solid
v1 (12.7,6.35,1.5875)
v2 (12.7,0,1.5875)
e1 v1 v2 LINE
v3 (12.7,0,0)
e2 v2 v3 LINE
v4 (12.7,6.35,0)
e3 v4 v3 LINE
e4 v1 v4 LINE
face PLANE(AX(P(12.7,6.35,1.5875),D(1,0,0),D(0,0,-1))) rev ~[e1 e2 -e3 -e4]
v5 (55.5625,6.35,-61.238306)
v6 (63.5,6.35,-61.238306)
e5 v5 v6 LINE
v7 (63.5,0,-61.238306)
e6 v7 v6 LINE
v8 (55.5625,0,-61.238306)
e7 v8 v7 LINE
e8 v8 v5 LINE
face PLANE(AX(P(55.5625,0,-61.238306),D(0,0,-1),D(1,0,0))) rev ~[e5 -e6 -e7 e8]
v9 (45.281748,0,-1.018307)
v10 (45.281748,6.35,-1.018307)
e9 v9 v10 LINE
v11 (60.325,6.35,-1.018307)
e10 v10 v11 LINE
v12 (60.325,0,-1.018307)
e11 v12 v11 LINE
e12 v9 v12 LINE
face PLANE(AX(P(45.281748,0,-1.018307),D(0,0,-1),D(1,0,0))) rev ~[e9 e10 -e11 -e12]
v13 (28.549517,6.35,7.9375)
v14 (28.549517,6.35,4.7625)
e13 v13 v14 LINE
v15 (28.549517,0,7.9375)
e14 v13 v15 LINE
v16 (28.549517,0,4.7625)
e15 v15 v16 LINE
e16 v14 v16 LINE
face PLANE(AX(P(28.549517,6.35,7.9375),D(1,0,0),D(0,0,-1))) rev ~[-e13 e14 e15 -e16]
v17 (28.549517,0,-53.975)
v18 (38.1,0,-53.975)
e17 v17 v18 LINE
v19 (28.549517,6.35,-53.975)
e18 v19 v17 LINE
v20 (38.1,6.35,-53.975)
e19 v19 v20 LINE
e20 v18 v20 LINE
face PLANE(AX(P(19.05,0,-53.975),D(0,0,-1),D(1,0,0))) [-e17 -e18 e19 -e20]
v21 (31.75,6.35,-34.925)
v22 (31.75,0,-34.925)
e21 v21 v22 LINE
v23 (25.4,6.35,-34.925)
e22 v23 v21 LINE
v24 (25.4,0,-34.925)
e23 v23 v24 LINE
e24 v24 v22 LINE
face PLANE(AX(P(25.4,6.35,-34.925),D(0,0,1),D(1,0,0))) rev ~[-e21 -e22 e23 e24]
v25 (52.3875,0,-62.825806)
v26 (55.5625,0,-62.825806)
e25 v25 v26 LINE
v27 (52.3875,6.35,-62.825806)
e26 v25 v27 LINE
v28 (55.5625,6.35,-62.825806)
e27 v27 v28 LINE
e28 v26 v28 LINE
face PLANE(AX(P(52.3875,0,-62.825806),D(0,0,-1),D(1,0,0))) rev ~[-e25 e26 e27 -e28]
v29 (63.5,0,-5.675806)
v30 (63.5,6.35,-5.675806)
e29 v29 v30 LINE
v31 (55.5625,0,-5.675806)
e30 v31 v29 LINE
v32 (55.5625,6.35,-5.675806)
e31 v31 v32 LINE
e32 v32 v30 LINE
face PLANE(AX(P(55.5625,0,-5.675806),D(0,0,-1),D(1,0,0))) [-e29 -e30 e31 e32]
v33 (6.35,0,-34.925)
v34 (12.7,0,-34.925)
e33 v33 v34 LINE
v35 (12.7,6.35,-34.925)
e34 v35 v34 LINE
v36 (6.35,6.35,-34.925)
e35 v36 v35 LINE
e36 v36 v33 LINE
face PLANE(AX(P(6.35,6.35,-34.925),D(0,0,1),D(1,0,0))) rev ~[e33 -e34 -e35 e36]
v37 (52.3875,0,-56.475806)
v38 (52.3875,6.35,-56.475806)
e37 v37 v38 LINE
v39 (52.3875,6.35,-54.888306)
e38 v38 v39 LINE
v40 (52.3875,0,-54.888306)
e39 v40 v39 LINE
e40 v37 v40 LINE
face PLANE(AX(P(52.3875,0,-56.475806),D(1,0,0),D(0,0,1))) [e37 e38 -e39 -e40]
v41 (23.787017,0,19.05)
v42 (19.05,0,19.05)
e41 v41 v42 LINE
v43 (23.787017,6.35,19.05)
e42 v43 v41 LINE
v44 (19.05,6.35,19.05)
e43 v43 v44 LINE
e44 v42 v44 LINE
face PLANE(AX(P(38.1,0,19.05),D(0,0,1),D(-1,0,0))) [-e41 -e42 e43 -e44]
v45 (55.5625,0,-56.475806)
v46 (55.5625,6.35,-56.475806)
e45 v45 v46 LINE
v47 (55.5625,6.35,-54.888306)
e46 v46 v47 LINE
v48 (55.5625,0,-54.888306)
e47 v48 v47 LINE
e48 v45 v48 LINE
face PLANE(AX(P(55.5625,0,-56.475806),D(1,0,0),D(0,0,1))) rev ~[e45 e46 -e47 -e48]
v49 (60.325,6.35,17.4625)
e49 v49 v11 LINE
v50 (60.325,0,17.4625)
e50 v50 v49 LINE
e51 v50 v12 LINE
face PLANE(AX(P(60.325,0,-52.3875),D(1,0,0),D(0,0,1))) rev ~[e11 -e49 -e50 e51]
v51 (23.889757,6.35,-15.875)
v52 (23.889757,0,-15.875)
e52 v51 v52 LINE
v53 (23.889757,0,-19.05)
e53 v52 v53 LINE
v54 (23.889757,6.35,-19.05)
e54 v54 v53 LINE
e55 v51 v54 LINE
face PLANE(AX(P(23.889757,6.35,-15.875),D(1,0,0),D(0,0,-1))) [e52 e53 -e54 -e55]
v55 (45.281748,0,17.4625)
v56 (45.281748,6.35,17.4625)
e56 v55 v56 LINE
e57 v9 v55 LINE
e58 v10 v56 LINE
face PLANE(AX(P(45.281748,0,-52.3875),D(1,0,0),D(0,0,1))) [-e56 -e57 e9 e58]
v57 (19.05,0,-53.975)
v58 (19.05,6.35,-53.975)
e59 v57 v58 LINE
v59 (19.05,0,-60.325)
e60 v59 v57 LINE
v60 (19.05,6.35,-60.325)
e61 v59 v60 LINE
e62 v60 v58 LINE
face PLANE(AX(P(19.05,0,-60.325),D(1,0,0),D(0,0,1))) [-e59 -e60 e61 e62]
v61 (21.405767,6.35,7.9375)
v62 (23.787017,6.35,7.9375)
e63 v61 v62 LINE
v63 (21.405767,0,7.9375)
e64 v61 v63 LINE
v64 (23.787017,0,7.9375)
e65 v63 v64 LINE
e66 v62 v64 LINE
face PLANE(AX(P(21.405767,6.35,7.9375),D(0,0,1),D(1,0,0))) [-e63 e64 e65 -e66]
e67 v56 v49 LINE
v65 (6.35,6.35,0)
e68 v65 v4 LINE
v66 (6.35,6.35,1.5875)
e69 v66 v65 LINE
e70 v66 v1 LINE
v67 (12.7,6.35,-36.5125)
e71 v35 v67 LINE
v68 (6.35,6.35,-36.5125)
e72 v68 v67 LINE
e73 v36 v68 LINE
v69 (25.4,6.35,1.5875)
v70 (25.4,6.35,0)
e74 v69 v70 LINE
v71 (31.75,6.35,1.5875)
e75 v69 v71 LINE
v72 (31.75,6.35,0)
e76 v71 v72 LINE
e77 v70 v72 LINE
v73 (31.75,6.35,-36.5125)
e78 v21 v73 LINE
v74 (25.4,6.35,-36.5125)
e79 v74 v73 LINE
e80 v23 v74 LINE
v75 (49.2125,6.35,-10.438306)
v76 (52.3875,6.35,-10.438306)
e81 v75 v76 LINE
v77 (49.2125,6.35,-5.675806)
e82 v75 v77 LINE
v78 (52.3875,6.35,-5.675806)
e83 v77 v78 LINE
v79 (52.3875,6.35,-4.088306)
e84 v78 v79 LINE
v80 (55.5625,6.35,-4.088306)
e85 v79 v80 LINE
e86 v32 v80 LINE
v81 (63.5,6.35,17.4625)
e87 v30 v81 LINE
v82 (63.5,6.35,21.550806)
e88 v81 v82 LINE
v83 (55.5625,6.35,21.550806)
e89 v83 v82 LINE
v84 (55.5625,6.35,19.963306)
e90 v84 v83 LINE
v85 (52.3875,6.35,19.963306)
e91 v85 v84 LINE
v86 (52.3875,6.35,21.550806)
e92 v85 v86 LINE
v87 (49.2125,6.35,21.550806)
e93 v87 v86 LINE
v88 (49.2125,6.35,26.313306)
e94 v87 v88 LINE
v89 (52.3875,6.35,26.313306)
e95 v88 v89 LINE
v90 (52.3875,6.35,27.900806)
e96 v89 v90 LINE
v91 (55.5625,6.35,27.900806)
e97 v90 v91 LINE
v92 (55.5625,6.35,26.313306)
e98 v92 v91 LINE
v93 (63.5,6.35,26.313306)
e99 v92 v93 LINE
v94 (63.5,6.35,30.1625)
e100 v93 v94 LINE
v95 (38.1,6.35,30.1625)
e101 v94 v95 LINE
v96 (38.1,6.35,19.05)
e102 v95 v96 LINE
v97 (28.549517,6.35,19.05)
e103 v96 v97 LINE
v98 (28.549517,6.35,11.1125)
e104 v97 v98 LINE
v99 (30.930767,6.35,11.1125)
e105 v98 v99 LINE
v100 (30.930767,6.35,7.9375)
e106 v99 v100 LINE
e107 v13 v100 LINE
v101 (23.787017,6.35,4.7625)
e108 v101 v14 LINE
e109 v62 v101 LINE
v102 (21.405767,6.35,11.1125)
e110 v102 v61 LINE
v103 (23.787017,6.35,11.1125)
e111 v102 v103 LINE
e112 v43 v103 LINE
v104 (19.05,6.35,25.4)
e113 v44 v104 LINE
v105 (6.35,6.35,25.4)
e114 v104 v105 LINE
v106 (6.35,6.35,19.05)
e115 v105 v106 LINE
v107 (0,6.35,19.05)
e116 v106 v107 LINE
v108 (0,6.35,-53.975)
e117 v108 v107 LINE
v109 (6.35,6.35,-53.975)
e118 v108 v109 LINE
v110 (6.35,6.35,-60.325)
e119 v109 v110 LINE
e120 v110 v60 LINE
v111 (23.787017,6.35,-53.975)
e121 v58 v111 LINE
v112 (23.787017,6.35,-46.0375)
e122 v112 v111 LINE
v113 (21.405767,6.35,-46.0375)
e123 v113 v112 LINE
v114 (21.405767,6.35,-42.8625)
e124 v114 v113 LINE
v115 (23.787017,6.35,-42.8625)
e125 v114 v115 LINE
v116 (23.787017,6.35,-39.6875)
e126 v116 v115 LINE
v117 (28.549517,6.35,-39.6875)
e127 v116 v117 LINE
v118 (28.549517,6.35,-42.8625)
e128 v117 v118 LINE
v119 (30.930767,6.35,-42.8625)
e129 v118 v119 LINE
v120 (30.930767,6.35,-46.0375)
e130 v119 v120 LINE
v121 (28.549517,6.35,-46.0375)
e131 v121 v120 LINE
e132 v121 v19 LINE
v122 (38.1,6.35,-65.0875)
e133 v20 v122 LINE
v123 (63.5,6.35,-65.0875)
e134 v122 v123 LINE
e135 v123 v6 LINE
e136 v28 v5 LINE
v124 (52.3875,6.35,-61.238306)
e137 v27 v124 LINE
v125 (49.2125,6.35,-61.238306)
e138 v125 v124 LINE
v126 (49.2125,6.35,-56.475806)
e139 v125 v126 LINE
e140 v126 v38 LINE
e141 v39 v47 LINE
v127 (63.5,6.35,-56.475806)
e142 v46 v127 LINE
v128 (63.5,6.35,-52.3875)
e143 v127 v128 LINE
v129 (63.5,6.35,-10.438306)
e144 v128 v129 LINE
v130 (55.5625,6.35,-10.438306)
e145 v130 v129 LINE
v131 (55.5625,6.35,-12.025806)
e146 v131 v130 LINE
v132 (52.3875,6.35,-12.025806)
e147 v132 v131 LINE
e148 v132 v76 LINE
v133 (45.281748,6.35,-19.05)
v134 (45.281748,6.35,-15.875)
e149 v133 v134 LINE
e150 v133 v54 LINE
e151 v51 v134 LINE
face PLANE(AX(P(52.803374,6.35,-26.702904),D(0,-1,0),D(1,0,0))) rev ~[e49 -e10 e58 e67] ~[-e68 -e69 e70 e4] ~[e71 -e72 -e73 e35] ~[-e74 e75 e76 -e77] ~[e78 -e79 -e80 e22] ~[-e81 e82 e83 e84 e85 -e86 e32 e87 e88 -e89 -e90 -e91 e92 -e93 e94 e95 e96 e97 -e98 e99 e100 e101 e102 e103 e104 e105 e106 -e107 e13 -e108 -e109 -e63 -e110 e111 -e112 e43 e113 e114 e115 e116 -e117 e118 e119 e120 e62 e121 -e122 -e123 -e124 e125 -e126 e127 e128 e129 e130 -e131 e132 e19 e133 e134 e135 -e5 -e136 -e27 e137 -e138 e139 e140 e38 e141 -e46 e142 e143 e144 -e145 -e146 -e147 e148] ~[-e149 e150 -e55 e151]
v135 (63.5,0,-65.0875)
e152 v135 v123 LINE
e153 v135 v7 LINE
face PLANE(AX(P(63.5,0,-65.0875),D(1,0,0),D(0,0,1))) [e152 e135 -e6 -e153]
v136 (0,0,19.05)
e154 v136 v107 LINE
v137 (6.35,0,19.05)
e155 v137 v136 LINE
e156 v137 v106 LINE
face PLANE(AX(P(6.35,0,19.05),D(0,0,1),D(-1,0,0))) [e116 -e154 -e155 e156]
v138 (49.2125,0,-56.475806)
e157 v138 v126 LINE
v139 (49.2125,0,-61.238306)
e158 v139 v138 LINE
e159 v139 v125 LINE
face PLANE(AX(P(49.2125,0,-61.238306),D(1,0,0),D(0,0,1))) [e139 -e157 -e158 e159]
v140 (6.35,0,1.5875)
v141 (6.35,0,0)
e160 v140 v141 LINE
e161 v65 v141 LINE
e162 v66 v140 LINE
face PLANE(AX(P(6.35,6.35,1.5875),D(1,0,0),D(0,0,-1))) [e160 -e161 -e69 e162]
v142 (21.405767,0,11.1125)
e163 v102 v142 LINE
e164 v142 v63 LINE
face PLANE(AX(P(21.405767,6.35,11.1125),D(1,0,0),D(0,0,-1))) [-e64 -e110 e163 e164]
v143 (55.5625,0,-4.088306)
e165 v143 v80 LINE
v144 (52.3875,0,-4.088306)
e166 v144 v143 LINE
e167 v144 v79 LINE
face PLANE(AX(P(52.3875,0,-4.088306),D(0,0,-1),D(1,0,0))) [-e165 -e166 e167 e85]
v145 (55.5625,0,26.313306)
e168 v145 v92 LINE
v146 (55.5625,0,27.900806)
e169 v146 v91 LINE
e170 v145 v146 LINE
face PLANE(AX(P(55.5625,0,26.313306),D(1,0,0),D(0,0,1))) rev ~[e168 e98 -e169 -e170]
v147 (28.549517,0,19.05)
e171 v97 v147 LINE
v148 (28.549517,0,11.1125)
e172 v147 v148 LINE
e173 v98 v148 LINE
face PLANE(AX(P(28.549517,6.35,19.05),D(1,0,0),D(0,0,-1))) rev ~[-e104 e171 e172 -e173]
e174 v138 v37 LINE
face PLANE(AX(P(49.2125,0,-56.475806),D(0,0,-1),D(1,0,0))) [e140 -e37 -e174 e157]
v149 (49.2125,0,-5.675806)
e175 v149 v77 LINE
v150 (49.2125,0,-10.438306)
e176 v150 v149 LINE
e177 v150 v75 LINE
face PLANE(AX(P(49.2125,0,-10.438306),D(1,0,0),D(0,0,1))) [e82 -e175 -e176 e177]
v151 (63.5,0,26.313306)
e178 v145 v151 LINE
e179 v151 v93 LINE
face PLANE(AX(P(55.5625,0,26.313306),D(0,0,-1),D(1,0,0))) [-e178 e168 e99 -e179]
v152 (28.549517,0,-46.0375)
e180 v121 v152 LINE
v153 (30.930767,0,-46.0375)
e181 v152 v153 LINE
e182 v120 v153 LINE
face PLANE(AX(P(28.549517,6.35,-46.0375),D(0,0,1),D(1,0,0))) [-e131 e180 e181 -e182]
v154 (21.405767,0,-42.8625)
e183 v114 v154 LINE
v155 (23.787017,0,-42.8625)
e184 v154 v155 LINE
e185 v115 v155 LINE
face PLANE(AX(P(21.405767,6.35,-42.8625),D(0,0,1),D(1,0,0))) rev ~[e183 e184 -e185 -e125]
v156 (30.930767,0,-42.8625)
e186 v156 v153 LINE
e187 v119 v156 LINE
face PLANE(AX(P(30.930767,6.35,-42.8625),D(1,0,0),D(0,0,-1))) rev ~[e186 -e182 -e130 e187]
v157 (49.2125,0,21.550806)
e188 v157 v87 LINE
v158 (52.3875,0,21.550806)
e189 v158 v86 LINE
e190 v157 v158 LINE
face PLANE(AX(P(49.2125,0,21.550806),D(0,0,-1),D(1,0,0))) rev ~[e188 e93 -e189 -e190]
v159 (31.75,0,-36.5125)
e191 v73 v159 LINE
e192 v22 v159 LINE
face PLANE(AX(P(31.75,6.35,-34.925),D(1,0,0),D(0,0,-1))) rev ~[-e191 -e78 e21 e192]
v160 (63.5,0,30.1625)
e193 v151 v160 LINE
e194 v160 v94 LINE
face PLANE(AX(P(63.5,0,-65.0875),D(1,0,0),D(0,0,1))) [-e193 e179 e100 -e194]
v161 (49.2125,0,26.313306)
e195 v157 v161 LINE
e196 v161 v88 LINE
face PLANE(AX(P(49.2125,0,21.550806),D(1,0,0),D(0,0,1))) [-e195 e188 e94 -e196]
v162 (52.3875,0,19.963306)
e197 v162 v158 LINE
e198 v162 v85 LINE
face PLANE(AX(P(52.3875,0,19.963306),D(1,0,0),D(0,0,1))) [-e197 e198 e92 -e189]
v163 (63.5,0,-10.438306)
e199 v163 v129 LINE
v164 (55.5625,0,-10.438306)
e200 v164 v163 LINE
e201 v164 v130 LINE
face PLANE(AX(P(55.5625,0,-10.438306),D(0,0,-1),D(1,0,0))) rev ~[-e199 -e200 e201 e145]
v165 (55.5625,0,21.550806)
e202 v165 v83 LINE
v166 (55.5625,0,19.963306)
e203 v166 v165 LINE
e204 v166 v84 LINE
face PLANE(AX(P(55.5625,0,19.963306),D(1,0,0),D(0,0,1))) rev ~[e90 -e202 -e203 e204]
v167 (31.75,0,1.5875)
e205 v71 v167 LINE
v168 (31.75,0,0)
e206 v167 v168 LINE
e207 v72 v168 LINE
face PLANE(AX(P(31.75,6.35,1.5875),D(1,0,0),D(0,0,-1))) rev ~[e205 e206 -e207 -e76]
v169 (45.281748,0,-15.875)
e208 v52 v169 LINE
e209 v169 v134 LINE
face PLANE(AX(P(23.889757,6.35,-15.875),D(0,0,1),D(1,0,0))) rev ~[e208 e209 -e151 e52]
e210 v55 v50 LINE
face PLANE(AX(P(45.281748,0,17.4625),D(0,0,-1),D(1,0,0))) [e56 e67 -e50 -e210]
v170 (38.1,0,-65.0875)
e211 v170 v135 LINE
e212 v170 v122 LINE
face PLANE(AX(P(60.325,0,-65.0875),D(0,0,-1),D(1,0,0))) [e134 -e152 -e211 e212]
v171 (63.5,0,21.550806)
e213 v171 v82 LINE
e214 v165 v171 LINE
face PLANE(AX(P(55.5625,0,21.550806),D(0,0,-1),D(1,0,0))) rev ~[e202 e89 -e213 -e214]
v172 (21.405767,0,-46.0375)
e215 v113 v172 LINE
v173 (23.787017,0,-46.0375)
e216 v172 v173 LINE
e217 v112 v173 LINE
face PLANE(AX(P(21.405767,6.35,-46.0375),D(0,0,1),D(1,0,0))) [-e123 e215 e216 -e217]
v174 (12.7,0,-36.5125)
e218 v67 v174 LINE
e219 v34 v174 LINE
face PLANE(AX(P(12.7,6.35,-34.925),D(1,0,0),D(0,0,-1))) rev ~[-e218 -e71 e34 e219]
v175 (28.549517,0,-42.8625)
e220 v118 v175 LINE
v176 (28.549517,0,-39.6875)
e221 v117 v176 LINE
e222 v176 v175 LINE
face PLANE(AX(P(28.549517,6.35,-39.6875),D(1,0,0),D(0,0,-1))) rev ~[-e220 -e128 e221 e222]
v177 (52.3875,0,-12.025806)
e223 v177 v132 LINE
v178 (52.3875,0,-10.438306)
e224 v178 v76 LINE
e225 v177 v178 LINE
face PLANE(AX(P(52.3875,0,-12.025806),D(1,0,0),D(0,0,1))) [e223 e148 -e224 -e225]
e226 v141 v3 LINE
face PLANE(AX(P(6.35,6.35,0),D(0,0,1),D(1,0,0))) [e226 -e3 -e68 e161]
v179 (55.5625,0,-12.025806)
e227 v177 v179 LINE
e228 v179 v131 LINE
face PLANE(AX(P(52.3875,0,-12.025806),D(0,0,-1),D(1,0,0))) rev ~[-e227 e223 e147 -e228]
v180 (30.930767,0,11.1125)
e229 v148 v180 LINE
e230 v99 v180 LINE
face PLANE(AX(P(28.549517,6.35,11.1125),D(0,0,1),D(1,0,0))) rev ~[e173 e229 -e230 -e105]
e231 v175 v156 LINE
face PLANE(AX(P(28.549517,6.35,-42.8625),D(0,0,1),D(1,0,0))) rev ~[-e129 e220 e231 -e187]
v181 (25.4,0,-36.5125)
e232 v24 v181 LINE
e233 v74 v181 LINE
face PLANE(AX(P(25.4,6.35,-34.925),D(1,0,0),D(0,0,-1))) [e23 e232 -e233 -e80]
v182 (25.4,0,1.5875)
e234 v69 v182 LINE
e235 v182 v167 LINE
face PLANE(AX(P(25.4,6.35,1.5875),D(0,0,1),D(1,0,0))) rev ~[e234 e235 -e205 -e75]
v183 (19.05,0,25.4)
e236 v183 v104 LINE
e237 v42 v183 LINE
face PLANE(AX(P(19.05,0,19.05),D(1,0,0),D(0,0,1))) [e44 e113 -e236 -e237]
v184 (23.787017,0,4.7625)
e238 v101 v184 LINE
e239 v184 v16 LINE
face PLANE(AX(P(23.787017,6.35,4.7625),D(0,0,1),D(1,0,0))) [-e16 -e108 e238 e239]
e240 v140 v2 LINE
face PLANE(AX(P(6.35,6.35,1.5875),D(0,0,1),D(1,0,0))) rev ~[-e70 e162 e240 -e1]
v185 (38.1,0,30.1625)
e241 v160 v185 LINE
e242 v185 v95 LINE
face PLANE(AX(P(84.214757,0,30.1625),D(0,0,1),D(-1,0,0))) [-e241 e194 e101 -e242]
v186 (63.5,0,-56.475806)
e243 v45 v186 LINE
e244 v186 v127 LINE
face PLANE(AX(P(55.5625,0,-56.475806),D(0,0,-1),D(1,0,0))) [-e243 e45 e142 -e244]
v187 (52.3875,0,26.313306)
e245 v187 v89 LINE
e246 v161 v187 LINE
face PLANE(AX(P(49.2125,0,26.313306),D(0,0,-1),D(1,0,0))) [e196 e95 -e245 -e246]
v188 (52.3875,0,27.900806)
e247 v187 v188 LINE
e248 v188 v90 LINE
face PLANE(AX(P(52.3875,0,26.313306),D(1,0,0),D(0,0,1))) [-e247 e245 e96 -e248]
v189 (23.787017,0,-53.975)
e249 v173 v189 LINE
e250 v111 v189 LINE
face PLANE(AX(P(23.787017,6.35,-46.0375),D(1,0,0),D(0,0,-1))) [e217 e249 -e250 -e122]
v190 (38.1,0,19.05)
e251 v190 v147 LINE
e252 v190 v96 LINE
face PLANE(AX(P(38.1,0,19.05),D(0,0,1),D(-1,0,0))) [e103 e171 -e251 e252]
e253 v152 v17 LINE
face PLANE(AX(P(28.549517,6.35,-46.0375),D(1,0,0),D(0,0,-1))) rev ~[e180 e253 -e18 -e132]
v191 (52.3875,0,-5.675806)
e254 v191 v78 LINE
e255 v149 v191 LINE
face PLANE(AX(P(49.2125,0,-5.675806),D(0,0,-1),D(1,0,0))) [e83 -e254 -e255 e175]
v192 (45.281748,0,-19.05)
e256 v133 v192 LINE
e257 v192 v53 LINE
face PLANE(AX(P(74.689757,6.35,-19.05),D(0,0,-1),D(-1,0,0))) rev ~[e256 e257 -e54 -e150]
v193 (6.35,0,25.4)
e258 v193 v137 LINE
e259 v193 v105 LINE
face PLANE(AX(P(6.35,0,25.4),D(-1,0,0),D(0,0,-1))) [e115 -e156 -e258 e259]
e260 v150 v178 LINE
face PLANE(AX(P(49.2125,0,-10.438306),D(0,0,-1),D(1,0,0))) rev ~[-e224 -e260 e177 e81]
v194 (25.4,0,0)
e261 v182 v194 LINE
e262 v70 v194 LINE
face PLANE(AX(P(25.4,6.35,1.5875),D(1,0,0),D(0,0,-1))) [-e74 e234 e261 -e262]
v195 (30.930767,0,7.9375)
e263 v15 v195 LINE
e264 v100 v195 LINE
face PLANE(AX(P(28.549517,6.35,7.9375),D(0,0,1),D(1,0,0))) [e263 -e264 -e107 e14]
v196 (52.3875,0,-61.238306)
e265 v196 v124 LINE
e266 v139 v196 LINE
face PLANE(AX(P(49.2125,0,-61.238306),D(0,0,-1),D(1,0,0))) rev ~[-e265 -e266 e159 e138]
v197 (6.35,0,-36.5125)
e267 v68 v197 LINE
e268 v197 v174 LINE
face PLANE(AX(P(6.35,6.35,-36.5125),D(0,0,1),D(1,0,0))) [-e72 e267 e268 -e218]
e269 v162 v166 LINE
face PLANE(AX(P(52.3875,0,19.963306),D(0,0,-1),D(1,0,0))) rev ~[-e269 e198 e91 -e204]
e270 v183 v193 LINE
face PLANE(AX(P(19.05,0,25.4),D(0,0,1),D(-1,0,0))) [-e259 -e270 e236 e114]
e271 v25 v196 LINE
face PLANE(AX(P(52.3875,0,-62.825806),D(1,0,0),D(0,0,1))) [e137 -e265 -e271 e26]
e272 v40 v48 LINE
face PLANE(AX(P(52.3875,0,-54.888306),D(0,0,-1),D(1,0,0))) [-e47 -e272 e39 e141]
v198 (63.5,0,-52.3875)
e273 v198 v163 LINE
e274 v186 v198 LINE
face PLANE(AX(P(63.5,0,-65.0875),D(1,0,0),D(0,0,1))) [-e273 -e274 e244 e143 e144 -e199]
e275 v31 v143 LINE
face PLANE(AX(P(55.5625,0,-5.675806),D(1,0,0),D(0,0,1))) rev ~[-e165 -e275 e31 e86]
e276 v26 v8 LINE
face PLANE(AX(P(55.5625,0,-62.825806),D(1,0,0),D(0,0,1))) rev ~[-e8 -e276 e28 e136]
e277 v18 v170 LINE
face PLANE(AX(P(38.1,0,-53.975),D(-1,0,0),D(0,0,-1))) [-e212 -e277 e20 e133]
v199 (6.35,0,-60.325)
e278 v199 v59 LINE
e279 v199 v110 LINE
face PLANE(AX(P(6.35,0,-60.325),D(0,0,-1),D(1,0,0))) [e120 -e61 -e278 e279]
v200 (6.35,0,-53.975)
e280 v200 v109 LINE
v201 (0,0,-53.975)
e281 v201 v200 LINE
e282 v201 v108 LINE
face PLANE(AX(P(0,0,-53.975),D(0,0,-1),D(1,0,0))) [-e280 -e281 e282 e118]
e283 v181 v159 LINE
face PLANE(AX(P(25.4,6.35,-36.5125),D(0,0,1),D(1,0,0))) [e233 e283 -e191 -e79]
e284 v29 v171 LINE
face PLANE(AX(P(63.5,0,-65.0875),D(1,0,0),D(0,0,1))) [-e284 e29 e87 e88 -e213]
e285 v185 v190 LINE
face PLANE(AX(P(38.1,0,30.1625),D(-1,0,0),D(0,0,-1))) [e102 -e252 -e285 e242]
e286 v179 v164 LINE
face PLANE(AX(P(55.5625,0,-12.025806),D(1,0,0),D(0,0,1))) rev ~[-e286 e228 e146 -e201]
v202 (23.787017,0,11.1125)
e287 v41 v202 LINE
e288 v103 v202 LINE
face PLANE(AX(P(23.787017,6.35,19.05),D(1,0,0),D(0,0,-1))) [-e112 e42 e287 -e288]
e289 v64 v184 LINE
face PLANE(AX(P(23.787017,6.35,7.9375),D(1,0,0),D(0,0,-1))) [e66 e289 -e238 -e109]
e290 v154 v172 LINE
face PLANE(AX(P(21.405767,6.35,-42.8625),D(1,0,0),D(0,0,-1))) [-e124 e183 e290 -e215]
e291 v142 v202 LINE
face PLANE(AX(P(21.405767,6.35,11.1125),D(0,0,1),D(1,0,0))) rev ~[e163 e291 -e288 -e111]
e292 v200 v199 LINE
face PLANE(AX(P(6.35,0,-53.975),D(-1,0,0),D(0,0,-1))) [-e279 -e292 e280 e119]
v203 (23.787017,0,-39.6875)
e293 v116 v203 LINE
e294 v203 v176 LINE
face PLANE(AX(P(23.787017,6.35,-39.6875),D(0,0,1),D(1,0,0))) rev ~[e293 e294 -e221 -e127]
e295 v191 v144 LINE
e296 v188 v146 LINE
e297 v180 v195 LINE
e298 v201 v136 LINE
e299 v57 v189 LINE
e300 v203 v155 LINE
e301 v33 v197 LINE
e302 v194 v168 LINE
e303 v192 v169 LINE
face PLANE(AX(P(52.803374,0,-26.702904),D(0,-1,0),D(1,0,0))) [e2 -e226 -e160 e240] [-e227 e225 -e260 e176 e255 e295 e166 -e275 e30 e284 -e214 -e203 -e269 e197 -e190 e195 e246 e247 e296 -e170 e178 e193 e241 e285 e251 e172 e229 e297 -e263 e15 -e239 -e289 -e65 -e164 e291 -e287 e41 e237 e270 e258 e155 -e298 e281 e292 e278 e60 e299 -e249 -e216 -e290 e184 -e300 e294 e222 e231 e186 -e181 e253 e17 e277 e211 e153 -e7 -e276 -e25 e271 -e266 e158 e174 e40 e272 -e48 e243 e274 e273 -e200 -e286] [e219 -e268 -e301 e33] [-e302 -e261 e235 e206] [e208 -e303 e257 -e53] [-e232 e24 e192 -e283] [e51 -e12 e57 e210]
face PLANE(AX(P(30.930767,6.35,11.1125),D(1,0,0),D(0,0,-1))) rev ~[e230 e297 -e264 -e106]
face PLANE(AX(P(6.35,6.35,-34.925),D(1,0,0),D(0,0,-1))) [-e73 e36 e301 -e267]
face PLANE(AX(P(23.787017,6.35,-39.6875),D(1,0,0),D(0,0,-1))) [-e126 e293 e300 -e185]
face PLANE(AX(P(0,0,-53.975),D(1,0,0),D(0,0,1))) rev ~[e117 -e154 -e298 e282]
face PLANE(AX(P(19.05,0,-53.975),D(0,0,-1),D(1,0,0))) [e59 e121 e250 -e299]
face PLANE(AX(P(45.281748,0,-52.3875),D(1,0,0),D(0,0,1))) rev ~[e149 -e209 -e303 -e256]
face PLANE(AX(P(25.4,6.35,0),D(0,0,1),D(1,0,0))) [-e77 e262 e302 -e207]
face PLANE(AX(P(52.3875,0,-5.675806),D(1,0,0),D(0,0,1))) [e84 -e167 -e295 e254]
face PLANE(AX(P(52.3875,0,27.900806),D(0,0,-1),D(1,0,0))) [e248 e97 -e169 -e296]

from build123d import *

# Parameters (mm, degrees)
BOSS_EXTRUDE1_DEPTH = 6.35
SKETCH2_W           = 6.35
SKETCH2_H           = 1.5875
CUT_EXTRUDE1_DEPTH  = 6.35
BOSS_EXTRUDE2_START = -6.35
SKETCH4_W           = 24.326613467
SKETCH4_H           = 69.85
BOSS_EXTRUDE2_DEPTH = 6.35
SKETCH5_W           = 25.4
SKETCH5_H           = 3.175
CUT_EXTRUDE3_DEPTH  = 6.35
SKETCH7_W           = 19.923596682
SKETCH7_H           = 95.25
CUT_EXTRUDE4_DEPTH  = 6.35
SKETCH8_W           = 15.043251586
SKETCH8_H           = 69.85
CUT_EXTRUDE5_DEPTH  = 6.35
SKETCH9_W           = 3.175
SKETCH9_H           = 95.25
BOSS_EXTRUDE3_DEPTH = 6.35
SKETCH10_W          = 17.539756693
SKETCH10_H          = 95.25
CUT_EXTRUDE7_DEPTH  = 6.35
SKETCH3_W           = 4.7625
SKETCH3_H           = 14.2875
SKETCH3_W_2         = 9.525
SKETCH3_H_2         = 3.175
CUT_EXTRUDE8_DEPTH  = 6.35
SKETCH11_W          = 14.2875
SKETCH11_H          = 4.7625
SKETCH11_W_2        = 3.175
SKETCH11_H_2        = 7.9375
CUT_EXTRUDE9_DEPTH  = 6.35
SKETCH13_W          = 15.043251586
SKETCH13_H          = 51.369192813
BOSS_EXTRUDE4_DEPTH = 6.35
SKETCH14_W          = 14.2875
SKETCH14_H          = 4.7625
SKETCH14_W_2        = 3.175
SKETCH14_H_2        = 7.9375
CUT_EXTRUDE10_DEPTH = 6.35


with BuildPart() as part:
    # Sketch1 → Boss-Extrude1 (new body)
    with BuildSketch(Plane(origin=(0, 0, 0), x_dir=(1, 0, 0), z_dir=(0, 1, 0))):
        Polygon((38.1, 65.0875), (84.214756693, 65.0875), (84.214756693, -30.1625), (38.1, -30.1625), (38.1, -19.05), (19.05, -19.05), (19.05, -25.4), (6.35, -25.4), (6.35, -19.05), (0, -19.05), (0, 0), (0, 34.925), (0, 53.975), (6.35, 53.975), (6.35, 60.325), (19.05, 60.325), (19.05, 53.975), (38.1, 53.975), align=None)
        Polygon((38.1, 34.925), (44.45, 38.591174209), (44.45, 52.3875), (74.689756693, 52.3875), (77.864756693, 50.8), (77.864756693, -15.875), (74.689756693, -17.4625), (44.45, -17.4625), (44.45, -3.666174209), (38.1, 0), align=None, mode=Mode.SUBTRACT)
    extrude(amount=BOSS_EXTRUDE1_DEPTH)

    # Sketch2 → Cut-Extrude1 (cut)
    with BuildSketch(Plane(origin=(0, 6.35, 0), x_dir=(1, 0, 0), z_dir=(0, 1, 0))):
        with Locations((9.525, 35.71875)):
            Rectangle(SKETCH2_W, SKETCH2_H)
        with Locations((9.525, -0.79375)):
            Rectangle(SKETCH2_W, SKETCH2_H)
        with Locations((28.575, 35.71875)):
            Rectangle(SKETCH2_W, SKETCH2_H)
        with Locations((28.575, -0.79375)):
            Rectangle(SKETCH2_W, SKETCH2_H)
    extrude(amount=-CUT_EXTRUDE1_DEPTH, mode=Mode.SUBTRACT)

    # Sketch4 → Boss-Extrude2 (add)
    with BuildSketch(Plane(origin=(0, 6.35, 0), x_dir=(1, 0, 0), z_dir=(0, 1, 0)).offset(BOSS_EXTRUDE2_START)):
        with Locations((49.82644996, 17.4625)):
            Rectangle(SKETCH4_W, SKETCH4_H)
    extrude(amount=BOSS_EXTRUDE2_DEPTH)

    # Sketch5 → Cut-Extrude3 (cut)
    with BuildSketch(Plane(origin=(0, 6.35, 0), x_dir=(1, 0, 0), z_dir=(0, 1, 0))):
        with Locations((61.989756693, 17.4625)):
            Rectangle(SKETCH5_W, SKETCH5_H)
        with Locations((36.589756693, 17.4625)):
            Rectangle(SKETCH5_W, SKETCH5_H)
    extrude(amount=-CUT_EXTRUDE3_DEPTH, mode=Mode.SUBTRACT)

    # Sketch7 → Cut-Extrude4 (cut)
    with BuildSketch(Plane(origin=(0, 6.35, 0), x_dir=(1, 0, 0), z_dir=(0, 1, 0))):
        with Locations((91.001555034, 17.4625)):
            Rectangle(SKETCH7_W, SKETCH7_H)
    extrude(amount=-CUT_EXTRUDE4_DEPTH, mode=Mode.SUBTRACT)

    # Sketch8 → Cut-Extrude5 (cut)
    with BuildSketch(Plane.XZ):
        with Locations((52.803374207, -17.4625)):
            Rectangle(SKETCH8_W, SKETCH8_H)
    extrude(amount=-CUT_EXTRUDE5_DEPTH, mode=Mode.SUBTRACT)

    # Sketch9 → Boss-Extrude3 (add)
    with BuildSketch(Plane.XZ):
        with Locations((61.9125, -17.4625)):
            Rectangle(SKETCH9_W, SKETCH9_H)
    extrude(amount=-BOSS_EXTRUDE3_DEPTH)

    # Sketch10 → Cut-Extrude7 (cut)
    with BuildSketch(Plane.XZ):
        with Locations((72.269878347, -17.4625)):
            Rectangle(SKETCH10_W, SKETCH10_H)
    extrude(amount=-CUT_EXTRUDE7_DEPTH, mode=Mode.SUBTRACT)

    # Sketch3 → Cut-Extrude8 (cut)
    with BuildSketch(Plane(origin=(0, 6.35, 0), x_dir=(1, 0, 0), z_dir=(0, 1, 0))):
        with Locations((26.168267374, 46.83125)):
            Rectangle(SKETCH3_W, SKETCH3_H)
        with Locations((26.168267374, 44.45)):
            Rectangle(SKETCH3_W_2, SKETCH3_H_2)
        with Locations((26.168267374, -9.525)):
            Rectangle(SKETCH3_W_2, SKETCH3_H_2)
        with Locations((26.168267374, -11.90625)):
            Rectangle(SKETCH3_W, SKETCH3_H)
    extrude(amount=-CUT_EXTRUDE8_DEPTH, mode=Mode.SUBTRACT)

    # Sketch11 → Cut-Extrude9 (cut)
    with BuildSketch(Plane.XZ):
        with Locations((56.35625, 23.932056084)):
            Rectangle(SKETCH11_W, SKETCH11_H)
        with Locations((53.975, 23.932056084)):
            Rectangle(SKETCH11_W_2, SKETCH11_H_2)
        with Locations((53.975, -58.857056084)):
            Rectangle(SKETCH11_W_2, SKETCH11_H_2)
        with Locations((56.35625, -58.857056084)):
            Rectangle(SKETCH11_W, SKETCH11_H)
    extrude(amount=-CUT_EXTRUDE9_DEPTH, mode=Mode.SUBTRACT)

    # Sketch13 → Boss-Extrude4 (add)
    with BuildSketch(Plane.XZ):
        with Locations((52.803374207, -26.702903594)):
            Rectangle(SKETCH13_W, SKETCH13_H)
    extrude(amount=-BOSS_EXTRUDE4_DEPTH)

    # Sketch14 → Cut-Extrude10 (cut)
    with BuildSketch(Plane.XZ):
        with Locations((56.35625, -8.057056084)):
            Rectangle(SKETCH14_W, SKETCH14_H)
        with Locations((53.975, -8.057056084)):
            Rectangle(SKETCH14_W_2, SKETCH14_H_2)
    extrude(amount=-CUT_EXTRUDE10_DEPTH, mode=Mode.SUBTRACT)


solid = part.part
